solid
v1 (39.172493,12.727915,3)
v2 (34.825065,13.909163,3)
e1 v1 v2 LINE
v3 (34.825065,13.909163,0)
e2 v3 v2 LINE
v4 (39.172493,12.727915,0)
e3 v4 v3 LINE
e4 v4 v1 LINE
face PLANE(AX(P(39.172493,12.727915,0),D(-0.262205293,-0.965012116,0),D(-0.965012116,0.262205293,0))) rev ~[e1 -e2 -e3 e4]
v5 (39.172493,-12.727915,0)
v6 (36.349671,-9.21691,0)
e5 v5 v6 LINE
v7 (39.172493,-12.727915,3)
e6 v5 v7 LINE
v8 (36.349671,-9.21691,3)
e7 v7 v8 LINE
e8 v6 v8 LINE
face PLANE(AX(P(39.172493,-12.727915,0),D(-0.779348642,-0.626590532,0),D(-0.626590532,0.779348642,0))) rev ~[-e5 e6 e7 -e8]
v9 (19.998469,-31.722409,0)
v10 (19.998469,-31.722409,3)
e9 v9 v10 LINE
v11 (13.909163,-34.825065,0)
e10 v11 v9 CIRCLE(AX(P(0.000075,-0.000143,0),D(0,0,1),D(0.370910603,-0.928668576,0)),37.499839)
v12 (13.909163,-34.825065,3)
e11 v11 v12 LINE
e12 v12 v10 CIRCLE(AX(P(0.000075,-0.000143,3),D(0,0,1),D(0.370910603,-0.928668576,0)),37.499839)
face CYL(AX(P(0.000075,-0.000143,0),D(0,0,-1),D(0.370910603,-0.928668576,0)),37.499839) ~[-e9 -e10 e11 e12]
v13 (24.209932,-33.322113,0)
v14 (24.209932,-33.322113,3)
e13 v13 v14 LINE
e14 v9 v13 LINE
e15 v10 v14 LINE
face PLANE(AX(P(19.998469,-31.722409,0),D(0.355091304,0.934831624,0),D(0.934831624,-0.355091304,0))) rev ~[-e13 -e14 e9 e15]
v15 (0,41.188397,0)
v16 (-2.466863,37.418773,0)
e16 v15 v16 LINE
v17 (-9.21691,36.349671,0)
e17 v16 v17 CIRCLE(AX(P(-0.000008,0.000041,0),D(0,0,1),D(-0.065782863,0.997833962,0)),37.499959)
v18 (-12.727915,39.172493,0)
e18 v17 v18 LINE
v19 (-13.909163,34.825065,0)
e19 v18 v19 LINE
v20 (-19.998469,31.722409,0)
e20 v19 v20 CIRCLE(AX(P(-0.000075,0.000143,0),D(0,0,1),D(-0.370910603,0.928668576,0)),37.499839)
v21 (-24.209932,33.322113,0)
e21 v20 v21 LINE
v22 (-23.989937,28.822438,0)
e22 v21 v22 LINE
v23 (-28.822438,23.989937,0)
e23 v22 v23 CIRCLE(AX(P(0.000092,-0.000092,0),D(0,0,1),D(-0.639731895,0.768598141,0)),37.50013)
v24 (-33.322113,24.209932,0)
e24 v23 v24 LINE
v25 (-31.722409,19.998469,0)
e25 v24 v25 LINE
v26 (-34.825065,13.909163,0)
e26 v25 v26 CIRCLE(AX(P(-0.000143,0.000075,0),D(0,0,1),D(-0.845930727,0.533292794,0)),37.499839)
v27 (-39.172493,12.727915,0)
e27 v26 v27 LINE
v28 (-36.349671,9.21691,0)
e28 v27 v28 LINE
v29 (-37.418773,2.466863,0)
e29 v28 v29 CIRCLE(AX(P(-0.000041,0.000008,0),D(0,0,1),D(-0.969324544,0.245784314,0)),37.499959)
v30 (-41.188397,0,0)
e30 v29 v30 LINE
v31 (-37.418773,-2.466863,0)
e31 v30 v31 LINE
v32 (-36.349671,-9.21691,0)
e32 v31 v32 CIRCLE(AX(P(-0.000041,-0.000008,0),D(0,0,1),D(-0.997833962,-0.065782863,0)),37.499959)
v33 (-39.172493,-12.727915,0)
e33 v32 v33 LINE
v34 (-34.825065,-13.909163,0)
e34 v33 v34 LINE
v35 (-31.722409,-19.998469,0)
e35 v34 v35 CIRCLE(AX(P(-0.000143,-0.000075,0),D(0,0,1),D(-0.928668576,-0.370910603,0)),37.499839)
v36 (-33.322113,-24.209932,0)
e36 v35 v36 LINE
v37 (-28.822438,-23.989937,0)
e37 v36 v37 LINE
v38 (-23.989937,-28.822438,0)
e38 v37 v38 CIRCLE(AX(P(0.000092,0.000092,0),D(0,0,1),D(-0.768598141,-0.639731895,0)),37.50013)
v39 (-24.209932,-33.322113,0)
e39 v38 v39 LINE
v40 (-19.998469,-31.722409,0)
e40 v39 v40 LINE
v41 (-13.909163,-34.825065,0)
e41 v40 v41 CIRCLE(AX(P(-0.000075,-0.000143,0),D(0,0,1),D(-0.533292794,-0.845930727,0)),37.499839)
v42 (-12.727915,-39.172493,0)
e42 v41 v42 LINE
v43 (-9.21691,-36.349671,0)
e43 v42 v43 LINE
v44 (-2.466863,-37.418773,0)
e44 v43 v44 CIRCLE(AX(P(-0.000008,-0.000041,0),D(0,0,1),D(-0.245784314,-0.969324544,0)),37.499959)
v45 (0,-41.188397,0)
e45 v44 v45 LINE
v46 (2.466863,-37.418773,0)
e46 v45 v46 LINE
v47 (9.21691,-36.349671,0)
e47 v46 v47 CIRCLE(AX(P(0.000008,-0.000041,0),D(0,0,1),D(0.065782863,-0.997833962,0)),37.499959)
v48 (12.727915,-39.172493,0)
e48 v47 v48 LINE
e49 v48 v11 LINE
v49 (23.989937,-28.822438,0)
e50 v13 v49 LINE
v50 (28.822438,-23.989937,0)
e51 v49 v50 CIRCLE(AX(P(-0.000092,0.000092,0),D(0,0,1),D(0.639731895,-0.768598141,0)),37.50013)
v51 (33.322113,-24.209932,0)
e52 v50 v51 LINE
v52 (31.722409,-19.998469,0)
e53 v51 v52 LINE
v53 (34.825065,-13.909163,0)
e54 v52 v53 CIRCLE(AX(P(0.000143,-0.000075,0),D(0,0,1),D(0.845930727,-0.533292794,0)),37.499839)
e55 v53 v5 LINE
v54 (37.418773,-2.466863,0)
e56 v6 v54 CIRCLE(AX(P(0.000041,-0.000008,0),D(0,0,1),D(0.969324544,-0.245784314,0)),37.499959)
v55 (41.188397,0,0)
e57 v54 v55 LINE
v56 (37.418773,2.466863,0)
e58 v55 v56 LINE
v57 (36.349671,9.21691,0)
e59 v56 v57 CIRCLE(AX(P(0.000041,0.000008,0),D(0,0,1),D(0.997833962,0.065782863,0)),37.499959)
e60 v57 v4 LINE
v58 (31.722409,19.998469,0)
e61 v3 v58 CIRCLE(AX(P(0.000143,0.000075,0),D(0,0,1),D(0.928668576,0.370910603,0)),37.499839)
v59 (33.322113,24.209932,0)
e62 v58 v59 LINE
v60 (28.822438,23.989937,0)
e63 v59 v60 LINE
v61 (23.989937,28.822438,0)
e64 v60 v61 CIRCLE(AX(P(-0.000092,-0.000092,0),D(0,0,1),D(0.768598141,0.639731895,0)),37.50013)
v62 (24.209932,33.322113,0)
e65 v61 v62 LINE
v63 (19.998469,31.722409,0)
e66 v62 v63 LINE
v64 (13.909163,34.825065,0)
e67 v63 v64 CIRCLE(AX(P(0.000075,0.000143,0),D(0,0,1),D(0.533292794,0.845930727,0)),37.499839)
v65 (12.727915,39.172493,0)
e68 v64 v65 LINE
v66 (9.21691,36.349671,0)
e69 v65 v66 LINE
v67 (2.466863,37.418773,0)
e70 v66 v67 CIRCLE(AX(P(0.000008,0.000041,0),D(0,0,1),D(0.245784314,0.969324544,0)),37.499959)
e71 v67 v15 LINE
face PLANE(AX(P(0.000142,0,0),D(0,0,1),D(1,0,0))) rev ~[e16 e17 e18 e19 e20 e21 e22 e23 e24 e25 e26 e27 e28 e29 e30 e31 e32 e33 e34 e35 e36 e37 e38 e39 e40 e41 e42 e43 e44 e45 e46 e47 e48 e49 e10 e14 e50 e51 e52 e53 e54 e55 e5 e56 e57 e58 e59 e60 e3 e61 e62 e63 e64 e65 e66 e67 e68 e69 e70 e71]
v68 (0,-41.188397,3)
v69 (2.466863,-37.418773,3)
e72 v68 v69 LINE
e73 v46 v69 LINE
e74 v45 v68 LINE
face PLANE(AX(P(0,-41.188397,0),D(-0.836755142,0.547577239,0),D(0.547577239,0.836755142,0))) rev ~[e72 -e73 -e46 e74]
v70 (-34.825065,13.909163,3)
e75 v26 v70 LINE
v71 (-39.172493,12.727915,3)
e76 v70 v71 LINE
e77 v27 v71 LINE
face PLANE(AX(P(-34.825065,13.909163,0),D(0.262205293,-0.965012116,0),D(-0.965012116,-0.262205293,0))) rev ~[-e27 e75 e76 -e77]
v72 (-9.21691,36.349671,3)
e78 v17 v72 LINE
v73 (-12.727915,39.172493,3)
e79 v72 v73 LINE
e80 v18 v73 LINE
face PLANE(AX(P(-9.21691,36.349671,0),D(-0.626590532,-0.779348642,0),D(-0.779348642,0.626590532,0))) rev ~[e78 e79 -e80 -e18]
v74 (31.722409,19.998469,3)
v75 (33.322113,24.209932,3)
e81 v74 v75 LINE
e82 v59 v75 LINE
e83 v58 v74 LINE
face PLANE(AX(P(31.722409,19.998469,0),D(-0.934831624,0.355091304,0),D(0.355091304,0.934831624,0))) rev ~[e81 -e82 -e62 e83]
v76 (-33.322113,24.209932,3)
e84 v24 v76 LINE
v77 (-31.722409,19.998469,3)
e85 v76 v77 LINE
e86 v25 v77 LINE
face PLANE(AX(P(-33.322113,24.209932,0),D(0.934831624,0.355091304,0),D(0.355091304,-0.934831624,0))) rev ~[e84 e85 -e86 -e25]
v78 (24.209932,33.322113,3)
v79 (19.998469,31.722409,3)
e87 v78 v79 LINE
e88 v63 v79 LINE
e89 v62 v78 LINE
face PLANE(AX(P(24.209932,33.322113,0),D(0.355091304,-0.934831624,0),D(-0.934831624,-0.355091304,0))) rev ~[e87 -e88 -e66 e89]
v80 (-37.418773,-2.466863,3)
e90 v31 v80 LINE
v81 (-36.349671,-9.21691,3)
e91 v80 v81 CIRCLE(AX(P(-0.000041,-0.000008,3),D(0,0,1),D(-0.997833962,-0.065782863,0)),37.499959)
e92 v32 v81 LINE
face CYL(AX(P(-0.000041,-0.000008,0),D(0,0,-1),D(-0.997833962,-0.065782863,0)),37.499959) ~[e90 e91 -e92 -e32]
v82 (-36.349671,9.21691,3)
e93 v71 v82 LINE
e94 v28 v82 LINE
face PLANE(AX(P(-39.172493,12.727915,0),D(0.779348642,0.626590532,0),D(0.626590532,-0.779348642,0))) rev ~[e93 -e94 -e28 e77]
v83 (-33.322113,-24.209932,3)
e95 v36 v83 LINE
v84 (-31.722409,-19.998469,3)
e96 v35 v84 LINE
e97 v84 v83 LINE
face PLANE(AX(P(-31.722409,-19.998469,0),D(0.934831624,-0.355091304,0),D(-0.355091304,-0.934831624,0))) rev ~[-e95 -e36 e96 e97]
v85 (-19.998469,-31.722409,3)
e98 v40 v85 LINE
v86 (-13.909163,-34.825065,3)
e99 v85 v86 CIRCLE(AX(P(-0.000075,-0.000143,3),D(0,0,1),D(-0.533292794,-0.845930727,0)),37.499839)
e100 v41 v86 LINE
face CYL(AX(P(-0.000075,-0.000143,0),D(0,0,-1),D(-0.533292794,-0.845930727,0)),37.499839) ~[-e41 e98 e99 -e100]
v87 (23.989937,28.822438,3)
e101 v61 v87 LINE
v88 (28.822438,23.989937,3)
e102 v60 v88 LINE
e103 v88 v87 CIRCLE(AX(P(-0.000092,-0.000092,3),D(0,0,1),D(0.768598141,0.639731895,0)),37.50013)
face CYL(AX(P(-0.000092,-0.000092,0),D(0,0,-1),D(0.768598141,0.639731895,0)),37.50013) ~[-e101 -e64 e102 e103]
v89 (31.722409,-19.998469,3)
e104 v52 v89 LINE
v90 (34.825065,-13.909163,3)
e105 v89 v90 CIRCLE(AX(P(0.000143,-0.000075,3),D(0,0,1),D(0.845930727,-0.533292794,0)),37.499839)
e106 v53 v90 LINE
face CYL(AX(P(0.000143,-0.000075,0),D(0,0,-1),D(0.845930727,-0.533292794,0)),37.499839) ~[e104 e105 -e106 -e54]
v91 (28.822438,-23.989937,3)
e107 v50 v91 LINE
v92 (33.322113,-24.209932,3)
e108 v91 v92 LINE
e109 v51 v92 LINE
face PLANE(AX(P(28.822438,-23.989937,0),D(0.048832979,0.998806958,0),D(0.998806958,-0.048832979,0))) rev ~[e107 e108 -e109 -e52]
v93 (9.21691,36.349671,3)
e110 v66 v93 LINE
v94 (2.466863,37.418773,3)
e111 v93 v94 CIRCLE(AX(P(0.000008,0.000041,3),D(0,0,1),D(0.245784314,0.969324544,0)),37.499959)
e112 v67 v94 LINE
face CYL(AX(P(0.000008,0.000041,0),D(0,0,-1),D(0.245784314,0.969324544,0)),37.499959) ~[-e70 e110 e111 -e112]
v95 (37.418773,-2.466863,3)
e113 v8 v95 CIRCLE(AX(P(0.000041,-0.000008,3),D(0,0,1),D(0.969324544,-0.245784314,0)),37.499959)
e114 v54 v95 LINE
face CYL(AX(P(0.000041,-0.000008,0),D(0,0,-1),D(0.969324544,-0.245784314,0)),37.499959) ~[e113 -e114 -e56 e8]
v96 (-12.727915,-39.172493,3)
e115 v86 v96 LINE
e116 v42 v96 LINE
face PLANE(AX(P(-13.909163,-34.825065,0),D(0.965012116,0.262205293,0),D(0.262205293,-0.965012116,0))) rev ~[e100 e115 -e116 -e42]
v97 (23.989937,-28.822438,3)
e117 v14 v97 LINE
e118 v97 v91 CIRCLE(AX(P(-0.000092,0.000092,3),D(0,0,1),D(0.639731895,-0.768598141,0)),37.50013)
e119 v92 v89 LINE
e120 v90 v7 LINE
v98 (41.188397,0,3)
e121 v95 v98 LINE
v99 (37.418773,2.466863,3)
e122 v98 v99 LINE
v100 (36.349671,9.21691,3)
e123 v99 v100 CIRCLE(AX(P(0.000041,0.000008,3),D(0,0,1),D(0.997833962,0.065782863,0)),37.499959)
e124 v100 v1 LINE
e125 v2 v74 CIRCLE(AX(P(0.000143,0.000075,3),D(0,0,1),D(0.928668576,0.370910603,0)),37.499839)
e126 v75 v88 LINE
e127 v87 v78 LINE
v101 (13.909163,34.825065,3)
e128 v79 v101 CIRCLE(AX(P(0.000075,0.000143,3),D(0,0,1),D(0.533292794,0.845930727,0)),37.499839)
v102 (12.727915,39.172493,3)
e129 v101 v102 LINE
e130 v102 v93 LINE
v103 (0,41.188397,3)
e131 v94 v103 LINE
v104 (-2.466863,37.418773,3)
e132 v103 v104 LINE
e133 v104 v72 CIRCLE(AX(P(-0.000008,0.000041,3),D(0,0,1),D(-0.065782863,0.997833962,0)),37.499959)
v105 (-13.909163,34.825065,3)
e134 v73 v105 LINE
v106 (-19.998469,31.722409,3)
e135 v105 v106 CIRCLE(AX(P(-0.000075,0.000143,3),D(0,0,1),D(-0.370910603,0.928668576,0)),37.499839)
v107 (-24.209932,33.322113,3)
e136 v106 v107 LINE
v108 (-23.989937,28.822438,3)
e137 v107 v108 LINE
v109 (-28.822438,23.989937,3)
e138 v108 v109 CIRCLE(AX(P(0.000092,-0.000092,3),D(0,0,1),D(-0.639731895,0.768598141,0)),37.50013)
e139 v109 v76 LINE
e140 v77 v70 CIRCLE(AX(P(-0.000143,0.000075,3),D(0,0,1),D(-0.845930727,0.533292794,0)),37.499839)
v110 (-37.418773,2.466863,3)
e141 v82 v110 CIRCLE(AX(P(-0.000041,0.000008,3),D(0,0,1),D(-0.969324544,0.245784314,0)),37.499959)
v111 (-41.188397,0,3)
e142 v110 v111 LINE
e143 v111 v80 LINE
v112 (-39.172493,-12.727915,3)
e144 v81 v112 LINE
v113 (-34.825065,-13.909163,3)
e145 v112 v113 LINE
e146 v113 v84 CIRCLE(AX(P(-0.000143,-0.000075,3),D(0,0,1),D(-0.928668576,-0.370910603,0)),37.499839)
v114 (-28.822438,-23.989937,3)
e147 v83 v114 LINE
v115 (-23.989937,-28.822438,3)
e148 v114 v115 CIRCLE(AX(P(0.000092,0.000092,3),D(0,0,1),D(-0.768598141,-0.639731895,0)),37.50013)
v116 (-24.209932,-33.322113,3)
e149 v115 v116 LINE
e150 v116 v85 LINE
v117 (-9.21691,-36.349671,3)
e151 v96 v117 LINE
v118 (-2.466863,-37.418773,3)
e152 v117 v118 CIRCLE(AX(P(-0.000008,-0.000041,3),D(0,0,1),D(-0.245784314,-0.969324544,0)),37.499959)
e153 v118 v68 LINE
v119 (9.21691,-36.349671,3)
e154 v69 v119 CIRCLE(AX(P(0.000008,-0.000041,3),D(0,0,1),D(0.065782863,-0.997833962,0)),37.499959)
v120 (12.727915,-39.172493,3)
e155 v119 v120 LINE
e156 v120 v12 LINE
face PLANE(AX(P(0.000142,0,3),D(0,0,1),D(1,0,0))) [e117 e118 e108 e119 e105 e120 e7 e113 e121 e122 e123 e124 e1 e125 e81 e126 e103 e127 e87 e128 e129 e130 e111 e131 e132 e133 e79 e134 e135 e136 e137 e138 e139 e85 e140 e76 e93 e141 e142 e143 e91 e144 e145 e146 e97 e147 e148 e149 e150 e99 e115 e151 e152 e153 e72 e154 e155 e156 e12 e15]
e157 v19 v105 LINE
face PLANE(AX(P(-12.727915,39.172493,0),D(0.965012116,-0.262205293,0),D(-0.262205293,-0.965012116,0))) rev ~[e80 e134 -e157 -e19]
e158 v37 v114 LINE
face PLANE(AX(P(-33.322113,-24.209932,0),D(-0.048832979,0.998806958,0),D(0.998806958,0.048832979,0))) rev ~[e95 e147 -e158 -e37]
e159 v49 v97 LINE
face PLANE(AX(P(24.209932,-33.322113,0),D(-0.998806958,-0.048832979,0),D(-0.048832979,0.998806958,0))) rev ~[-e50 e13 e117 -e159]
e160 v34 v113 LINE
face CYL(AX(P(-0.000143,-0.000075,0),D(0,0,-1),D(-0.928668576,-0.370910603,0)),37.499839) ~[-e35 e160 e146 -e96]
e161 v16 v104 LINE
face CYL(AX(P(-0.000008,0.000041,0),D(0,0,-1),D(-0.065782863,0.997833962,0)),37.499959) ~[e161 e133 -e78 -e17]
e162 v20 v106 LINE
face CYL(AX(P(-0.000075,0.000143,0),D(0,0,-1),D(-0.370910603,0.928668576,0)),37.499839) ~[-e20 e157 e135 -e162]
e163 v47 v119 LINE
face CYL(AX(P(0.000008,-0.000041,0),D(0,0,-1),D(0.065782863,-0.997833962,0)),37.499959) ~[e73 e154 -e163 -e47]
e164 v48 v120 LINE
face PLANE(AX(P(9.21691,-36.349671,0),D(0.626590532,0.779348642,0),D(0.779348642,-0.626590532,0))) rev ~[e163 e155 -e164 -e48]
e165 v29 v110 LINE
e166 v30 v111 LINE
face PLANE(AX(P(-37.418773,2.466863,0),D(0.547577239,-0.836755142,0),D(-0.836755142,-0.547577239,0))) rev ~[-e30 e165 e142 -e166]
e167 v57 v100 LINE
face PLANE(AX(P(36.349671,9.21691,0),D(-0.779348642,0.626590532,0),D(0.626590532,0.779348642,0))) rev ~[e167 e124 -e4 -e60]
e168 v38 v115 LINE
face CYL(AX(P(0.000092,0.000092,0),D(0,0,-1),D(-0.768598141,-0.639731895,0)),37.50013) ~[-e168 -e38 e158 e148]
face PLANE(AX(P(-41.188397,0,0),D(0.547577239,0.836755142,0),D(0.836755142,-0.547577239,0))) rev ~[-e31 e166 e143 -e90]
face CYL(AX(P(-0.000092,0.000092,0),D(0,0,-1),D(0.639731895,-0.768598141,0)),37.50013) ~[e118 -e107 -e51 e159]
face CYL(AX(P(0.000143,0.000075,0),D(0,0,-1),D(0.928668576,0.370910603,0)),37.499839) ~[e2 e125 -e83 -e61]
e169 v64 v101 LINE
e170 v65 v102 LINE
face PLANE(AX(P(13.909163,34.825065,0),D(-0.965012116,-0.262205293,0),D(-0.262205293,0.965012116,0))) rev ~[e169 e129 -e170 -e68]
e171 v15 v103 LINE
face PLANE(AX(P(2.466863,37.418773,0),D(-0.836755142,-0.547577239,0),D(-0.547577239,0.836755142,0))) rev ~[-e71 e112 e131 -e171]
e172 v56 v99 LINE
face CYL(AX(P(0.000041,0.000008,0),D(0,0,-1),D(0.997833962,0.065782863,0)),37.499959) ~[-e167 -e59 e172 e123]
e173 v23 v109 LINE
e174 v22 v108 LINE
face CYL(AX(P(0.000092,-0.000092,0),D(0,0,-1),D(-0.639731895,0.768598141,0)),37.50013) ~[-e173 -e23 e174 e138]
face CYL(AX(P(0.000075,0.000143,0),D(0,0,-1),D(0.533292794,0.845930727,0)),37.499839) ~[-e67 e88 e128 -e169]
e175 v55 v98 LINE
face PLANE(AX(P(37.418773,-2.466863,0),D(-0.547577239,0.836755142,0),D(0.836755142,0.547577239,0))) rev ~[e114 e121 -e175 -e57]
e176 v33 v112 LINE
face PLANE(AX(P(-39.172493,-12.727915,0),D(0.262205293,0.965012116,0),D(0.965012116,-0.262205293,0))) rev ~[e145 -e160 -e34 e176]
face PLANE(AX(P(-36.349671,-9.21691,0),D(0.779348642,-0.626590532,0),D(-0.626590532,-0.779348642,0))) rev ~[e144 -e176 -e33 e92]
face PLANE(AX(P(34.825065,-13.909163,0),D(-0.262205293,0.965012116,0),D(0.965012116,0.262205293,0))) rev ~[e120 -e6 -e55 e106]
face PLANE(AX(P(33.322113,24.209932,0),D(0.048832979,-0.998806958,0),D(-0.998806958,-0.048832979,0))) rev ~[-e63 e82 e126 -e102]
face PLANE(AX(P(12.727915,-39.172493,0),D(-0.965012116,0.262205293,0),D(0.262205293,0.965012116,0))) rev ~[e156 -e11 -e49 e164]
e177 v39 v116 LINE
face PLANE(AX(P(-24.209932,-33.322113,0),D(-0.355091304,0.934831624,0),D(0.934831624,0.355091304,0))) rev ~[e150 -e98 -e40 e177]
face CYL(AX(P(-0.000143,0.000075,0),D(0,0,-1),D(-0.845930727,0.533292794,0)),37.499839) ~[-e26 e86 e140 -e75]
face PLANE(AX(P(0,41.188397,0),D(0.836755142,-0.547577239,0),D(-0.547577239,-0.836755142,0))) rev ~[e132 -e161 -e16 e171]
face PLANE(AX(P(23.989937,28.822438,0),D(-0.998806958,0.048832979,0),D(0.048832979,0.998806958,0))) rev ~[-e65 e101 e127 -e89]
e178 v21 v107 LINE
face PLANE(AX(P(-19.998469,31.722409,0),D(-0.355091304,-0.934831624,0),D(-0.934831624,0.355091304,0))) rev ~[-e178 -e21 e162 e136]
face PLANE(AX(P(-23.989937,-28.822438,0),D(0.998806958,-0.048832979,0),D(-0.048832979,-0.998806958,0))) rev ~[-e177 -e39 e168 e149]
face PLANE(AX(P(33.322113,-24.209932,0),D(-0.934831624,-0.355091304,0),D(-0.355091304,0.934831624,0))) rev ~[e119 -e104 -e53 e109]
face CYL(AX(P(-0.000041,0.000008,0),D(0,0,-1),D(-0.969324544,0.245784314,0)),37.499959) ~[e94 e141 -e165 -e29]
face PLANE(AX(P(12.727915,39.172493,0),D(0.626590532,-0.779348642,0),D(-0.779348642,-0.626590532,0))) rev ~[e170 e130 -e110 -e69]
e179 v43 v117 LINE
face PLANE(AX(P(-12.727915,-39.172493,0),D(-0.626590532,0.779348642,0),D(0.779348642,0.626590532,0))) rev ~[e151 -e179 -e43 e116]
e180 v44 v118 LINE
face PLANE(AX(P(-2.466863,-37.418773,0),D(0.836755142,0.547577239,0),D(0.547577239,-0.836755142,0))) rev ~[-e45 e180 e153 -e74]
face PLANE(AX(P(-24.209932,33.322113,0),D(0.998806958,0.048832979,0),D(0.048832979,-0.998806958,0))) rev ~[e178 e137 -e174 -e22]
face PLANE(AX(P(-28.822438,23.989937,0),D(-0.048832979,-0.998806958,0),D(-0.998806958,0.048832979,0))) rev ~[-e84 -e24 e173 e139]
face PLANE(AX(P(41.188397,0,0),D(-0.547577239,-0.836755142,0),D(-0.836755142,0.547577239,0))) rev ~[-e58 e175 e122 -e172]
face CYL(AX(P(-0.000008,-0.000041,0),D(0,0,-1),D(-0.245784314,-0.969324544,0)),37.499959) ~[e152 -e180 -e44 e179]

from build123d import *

# Parameters (mm, degrees)
F1_DEPTH = 3


with BuildPart() as f1:
    # F0 (on Top) → F1 (new body)
    with BuildSketch(Plane.XY):
        with BuildLine():
            ThreePointArc((37.418773, -2.466863), (37.479688, -1.2341), (37.5, 0))
            ThreePointArc((37.5, 0), (37.479688, 1.2341), (37.418773, 2.466863))
            ThreePointArc((37.418773, 2.466863), (37.038313, 5.866292), (36.349671, 9.21691))
            ThreePointArc((36.349671, 9.21691), (35.664619, 11.588137), (34.825065, 13.909163))
            ThreePointArc((34.825065, 13.909163), (33.412745, 17.024644), (31.722409, 19.998469))
            ThreePointArc((31.722409, 19.998469), (30.338137, 22.041947), (28.822438, 23.989937))
            ThreePointArc((28.822438, 23.989937), (26.516504, 26.516504), (23.989937, 28.822438))
            ThreePointArc((23.989937, 28.822438), (22.041947, 30.338137), (19.998469, 31.722409))
            ThreePointArc((19.998469, 31.722409), (17.024644, 33.412745), (13.909163, 34.825065))
            ThreePointArc((13.909163, 34.825065), (11.588137, 35.664619), (9.21691, 36.349671))
            ThreePointArc((9.21691, 36.349671), (5.866292, 37.038313), (2.466863, 37.418773))
            ThreePointArc((2.466863, 37.418773), (0, 37.5), (-2.466863, 37.418773))
            ThreePointArc((-2.466863, 37.418773), (-5.866292, 37.038313), (-9.21691, 36.349671))
            ThreePointArc((-9.21691, 36.349671), (-11.588137, 35.664619), (-13.909163, 34.825065))
            ThreePointArc((-13.909163, 34.825065), (-17.024644, 33.412745), (-19.998469, 31.722409))
            ThreePointArc((-19.998469, 31.722409), (-22.041947, 30.338137), (-23.989937, 28.822438))
            ThreePointArc((-23.989937, 28.822438), (-26.516504, 26.516504), (-28.822438, 23.989937))
            ThreePointArc((-28.822438, 23.989937), (-30.338137, 22.041947), (-31.722409, 19.998469))
            ThreePointArc((-31.722409, 19.998469), (-33.412745, 17.024644), (-34.825065, 13.909163))
            ThreePointArc((-34.825065, 13.909163), (-35.664619, 11.588137), (-36.349671, 9.21691))
            ThreePointArc((-36.349671, 9.21691), (-37.038313, 5.866292), (-37.418773, 2.466863))
            ThreePointArc((-37.418773, 2.466863), (-37.5, 0), (-37.418773, -2.466863))
            ThreePointArc((-37.418773, -2.466863), (-37.038313, -5.866292), (-36.349671, -9.21691))
            ThreePointArc((-36.349671, -9.21691), (-35.664619, -11.588137), (-34.825065, -13.909163))
            ThreePointArc((-34.825065, -13.909163), (-33.412745, -17.024644), (-31.722409, -19.998469))
            ThreePointArc((-31.722409, -19.998469), (-30.338137, -22.041947), (-28.822438, -23.989937))
            ThreePointArc((-28.822438, -23.989937), (-26.516504, -26.516504), (-23.989937, -28.822438))
            ThreePointArc((-23.989937, -28.822438), (-22.041947, -30.338137), (-19.998469, -31.722409))
            ThreePointArc((-19.998469, -31.722409), (-17.024644, -33.412745), (-13.909163, -34.825065))
            ThreePointArc((-13.909163, -34.825065), (-11.588137, -35.664619), (-9.21691, -36.349671))
            ThreePointArc((-9.21691, -36.349671), (-5.866292, -37.038313), (-2.466863, -37.418773))
            ThreePointArc((-2.466863, -37.418773), (0, -37.5), (2.466863, -37.418773))
            ThreePointArc((2.466863, -37.418773), (5.866292, -37.038313), (9.21691, -36.349671))
            ThreePointArc((9.21691, -36.349671), (11.588137, -35.664619), (13.909163, -34.825065))
            ThreePointArc((13.909163, -34.825065), (17.024644, -33.412745), (19.998469, -31.722409))
            ThreePointArc((19.998469, -31.722409), (22.041947, -30.338137), (23.989937, -28.822438))
            ThreePointArc((23.989937, -28.822438), (26.516504, -26.516504), (28.822438, -23.989937))
            ThreePointArc((28.822438, -23.989937), (30.338137, -22.041947), (31.722409, -19.998469))
            ThreePointArc((31.722409, -19.998469), (33.412745, -17.024644), (34.825065, -13.909163))
            ThreePointArc((34.825065, -13.909163), (35.664619, -11.588137), (36.349671, -9.21691))
            ThreePointArc((36.349671, -9.21691), (37.038313, -5.866292), (37.418773, -2.466863))
        make_face()
        with BuildLine():
            ThreePointArc((37.418773, 2.466863), (37.479688, 1.2341), (37.5, 0))
            ThreePointArc((37.5, 0), (37.479688, -1.2341), (37.418773, -2.466863))
            Line((37.418773, -2.466863), (41.188397, 0))
            Line((41.188397, 0), (37.418773, 2.466863))
        make_face()
        with BuildLine():
            ThreePointArc((34.825065, 13.909163), (35.664619, 11.588137), (36.349671, 9.21691))
            Line((36.349671, 9.21691), (39.172493, 12.727915))
            Line((39.172493, 12.727915), (34.825065, 13.909163))
        make_face()
        with BuildLine():
            Line((39.172493, -12.727915), (36.349671, -9.21691))
            ThreePointArc((36.349671, -9.21691), (35.664619, -11.588137), (34.825065, -13.909163))
            Line((34.825065, -13.909163), (39.172493, -12.727915))
        make_face()
        with BuildLine():
            ThreePointArc((28.822438, 23.989937), (30.338137, 22.041947), (31.722409, 19.998469))
            Line((31.722409, 19.998469), (33.322113, 24.209932))
            Line((33.322113, 24.209932), (28.822438, 23.989937))
        make_face()
        with BuildLine():
            Line((33.322113, -24.209932), (31.722409, -19.998469))
            ThreePointArc((31.722409, -19.998469), (30.338137, -22.041947), (28.822438, -23.989937))
            Line((28.822438, -23.989937), (33.322113, -24.209932))
        make_face()
        with BuildLine():
            ThreePointArc((19.998469, 31.722409), (22.041947, 30.338137), (23.989937, 28.822438))
            Line((23.989937, 28.822438), (24.209932, 33.322113))
            Line((24.209932, 33.322113), (19.998469, 31.722409))
        make_face()
        with BuildLine():
            Line((24.209932, -33.322113), (23.989937, -28.822438))
            ThreePointArc((23.989937, -28.822438), (22.041947, -30.338137), (19.998469, -31.722409))
            Line((19.998469, -31.722409), (24.209932, -33.322113))
        make_face()
        with BuildLine():
            ThreePointArc((9.21691, 36.349671), (11.588137, 35.664619), (13.909163, 34.825065))
            Line((13.909163, 34.825065), (12.727915, 39.172493))
            Line((12.727915, 39.172493), (9.21691, 36.349671))
        make_face()
        with BuildLine():
            Line((12.727915, -39.172493), (13.909163, -34.825065))
            ThreePointArc((13.909163, -34.825065), (11.588137, -35.664619), (9.21691, -36.349671))
            Line((9.21691, -36.349671), (12.727915, -39.172493))
        make_face()
        with BuildLine():
            ThreePointArc((-2.466863, 37.418773), (0, 37.5), (2.466863, 37.418773))
            Line((2.466863, 37.418773), (0, 41.188397))
            Line((0, 41.188397), (-2.466863, 37.418773))
        make_face()
        with BuildLine():
            Line((0, -41.188397), (2.466863, -37.418773))
            ThreePointArc((2.466863, -37.418773), (0, -37.5), (-2.466863, -37.418773))
            Line((-2.466863, -37.418773), (0, -41.188397))
        make_face()
        with BuildLine():
            ThreePointArc((-13.909163, 34.825065), (-11.588137, 35.664619), (-9.21691, 36.349671))
            Line((-9.21691, 36.349671), (-12.727915, 39.172493))
            Line((-12.727915, 39.172493), (-13.909163, 34.825065))
        make_face()
        with BuildLine():
            Line((-12.727915, -39.172493), (-9.21691, -36.349671))
            ThreePointArc((-9.21691, -36.349671), (-11.588137, -35.664619), (-13.909163, -34.825065))
            Line((-13.909163, -34.825065), (-12.727915, -39.172493))
        make_face()
        with BuildLine():
            ThreePointArc((-23.989937, 28.822438), (-22.041947, 30.338137), (-19.998469, 31.722409))
            Line((-19.998469, 31.722409), (-24.209932, 33.322113))
            Line((-24.209932, 33.322113), (-23.989937, 28.822438))
        make_face()
        with BuildLine():
            Line((-24.209932, -33.322113), (-19.998469, -31.722409))
            ThreePointArc((-19.998469, -31.722409), (-22.041947, -30.338137), (-23.989937, -28.822438))
            Line((-23.989937, -28.822438), (-24.209932, -33.322113))
        make_face()
        with BuildLine():
            ThreePointArc((-31.722409, 19.998469), (-30.338137, 22.041947), (-28.822438, 23.989937))
            Line((-28.822438, 23.989937), (-33.322113, 24.209932))
            Line((-33.322113, 24.209932), (-31.722409, 19.998469))
        make_face()
        with BuildLine():
            Line((-33.322113, -24.209932), (-28.822438, -23.989937))
            ThreePointArc((-28.822438, -23.989937), (-30.338137, -22.041947), (-31.722409, -19.998469))
            Line((-31.722409, -19.998469), (-33.322113, -24.209932))
        make_face()
        with BuildLine():
            ThreePointArc((-36.349671, 9.21691), (-35.664619, 11.588137), (-34.825065, 13.909163))
            Line((-34.825065, 13.909163), (-39.172493, 12.727915))
            Line((-39.172493, 12.727915), (-36.349671, 9.21691))
        make_face()
        with BuildLine():
            Line((-39.172493, -12.727915), (-34.825065, -13.909163))
            ThreePointArc((-34.825065, -13.909163), (-35.664619, -11.588137), (-36.349671, -9.21691))
            Line((-36.349671, -9.21691), (-39.172493, -12.727915))
        make_face()
        with BuildLine():
            ThreePointArc((-37.418773, -2.466863), (-37.5, 0), (-37.418773, 2.466863))
            Line((-37.418773, 2.466863), (-41.188397, 0))
            Line((-41.188397, 0), (-37.418773, -2.466863))
        make_face()
    extrude(amount=F1_DEPTH)


solid = f1.part
